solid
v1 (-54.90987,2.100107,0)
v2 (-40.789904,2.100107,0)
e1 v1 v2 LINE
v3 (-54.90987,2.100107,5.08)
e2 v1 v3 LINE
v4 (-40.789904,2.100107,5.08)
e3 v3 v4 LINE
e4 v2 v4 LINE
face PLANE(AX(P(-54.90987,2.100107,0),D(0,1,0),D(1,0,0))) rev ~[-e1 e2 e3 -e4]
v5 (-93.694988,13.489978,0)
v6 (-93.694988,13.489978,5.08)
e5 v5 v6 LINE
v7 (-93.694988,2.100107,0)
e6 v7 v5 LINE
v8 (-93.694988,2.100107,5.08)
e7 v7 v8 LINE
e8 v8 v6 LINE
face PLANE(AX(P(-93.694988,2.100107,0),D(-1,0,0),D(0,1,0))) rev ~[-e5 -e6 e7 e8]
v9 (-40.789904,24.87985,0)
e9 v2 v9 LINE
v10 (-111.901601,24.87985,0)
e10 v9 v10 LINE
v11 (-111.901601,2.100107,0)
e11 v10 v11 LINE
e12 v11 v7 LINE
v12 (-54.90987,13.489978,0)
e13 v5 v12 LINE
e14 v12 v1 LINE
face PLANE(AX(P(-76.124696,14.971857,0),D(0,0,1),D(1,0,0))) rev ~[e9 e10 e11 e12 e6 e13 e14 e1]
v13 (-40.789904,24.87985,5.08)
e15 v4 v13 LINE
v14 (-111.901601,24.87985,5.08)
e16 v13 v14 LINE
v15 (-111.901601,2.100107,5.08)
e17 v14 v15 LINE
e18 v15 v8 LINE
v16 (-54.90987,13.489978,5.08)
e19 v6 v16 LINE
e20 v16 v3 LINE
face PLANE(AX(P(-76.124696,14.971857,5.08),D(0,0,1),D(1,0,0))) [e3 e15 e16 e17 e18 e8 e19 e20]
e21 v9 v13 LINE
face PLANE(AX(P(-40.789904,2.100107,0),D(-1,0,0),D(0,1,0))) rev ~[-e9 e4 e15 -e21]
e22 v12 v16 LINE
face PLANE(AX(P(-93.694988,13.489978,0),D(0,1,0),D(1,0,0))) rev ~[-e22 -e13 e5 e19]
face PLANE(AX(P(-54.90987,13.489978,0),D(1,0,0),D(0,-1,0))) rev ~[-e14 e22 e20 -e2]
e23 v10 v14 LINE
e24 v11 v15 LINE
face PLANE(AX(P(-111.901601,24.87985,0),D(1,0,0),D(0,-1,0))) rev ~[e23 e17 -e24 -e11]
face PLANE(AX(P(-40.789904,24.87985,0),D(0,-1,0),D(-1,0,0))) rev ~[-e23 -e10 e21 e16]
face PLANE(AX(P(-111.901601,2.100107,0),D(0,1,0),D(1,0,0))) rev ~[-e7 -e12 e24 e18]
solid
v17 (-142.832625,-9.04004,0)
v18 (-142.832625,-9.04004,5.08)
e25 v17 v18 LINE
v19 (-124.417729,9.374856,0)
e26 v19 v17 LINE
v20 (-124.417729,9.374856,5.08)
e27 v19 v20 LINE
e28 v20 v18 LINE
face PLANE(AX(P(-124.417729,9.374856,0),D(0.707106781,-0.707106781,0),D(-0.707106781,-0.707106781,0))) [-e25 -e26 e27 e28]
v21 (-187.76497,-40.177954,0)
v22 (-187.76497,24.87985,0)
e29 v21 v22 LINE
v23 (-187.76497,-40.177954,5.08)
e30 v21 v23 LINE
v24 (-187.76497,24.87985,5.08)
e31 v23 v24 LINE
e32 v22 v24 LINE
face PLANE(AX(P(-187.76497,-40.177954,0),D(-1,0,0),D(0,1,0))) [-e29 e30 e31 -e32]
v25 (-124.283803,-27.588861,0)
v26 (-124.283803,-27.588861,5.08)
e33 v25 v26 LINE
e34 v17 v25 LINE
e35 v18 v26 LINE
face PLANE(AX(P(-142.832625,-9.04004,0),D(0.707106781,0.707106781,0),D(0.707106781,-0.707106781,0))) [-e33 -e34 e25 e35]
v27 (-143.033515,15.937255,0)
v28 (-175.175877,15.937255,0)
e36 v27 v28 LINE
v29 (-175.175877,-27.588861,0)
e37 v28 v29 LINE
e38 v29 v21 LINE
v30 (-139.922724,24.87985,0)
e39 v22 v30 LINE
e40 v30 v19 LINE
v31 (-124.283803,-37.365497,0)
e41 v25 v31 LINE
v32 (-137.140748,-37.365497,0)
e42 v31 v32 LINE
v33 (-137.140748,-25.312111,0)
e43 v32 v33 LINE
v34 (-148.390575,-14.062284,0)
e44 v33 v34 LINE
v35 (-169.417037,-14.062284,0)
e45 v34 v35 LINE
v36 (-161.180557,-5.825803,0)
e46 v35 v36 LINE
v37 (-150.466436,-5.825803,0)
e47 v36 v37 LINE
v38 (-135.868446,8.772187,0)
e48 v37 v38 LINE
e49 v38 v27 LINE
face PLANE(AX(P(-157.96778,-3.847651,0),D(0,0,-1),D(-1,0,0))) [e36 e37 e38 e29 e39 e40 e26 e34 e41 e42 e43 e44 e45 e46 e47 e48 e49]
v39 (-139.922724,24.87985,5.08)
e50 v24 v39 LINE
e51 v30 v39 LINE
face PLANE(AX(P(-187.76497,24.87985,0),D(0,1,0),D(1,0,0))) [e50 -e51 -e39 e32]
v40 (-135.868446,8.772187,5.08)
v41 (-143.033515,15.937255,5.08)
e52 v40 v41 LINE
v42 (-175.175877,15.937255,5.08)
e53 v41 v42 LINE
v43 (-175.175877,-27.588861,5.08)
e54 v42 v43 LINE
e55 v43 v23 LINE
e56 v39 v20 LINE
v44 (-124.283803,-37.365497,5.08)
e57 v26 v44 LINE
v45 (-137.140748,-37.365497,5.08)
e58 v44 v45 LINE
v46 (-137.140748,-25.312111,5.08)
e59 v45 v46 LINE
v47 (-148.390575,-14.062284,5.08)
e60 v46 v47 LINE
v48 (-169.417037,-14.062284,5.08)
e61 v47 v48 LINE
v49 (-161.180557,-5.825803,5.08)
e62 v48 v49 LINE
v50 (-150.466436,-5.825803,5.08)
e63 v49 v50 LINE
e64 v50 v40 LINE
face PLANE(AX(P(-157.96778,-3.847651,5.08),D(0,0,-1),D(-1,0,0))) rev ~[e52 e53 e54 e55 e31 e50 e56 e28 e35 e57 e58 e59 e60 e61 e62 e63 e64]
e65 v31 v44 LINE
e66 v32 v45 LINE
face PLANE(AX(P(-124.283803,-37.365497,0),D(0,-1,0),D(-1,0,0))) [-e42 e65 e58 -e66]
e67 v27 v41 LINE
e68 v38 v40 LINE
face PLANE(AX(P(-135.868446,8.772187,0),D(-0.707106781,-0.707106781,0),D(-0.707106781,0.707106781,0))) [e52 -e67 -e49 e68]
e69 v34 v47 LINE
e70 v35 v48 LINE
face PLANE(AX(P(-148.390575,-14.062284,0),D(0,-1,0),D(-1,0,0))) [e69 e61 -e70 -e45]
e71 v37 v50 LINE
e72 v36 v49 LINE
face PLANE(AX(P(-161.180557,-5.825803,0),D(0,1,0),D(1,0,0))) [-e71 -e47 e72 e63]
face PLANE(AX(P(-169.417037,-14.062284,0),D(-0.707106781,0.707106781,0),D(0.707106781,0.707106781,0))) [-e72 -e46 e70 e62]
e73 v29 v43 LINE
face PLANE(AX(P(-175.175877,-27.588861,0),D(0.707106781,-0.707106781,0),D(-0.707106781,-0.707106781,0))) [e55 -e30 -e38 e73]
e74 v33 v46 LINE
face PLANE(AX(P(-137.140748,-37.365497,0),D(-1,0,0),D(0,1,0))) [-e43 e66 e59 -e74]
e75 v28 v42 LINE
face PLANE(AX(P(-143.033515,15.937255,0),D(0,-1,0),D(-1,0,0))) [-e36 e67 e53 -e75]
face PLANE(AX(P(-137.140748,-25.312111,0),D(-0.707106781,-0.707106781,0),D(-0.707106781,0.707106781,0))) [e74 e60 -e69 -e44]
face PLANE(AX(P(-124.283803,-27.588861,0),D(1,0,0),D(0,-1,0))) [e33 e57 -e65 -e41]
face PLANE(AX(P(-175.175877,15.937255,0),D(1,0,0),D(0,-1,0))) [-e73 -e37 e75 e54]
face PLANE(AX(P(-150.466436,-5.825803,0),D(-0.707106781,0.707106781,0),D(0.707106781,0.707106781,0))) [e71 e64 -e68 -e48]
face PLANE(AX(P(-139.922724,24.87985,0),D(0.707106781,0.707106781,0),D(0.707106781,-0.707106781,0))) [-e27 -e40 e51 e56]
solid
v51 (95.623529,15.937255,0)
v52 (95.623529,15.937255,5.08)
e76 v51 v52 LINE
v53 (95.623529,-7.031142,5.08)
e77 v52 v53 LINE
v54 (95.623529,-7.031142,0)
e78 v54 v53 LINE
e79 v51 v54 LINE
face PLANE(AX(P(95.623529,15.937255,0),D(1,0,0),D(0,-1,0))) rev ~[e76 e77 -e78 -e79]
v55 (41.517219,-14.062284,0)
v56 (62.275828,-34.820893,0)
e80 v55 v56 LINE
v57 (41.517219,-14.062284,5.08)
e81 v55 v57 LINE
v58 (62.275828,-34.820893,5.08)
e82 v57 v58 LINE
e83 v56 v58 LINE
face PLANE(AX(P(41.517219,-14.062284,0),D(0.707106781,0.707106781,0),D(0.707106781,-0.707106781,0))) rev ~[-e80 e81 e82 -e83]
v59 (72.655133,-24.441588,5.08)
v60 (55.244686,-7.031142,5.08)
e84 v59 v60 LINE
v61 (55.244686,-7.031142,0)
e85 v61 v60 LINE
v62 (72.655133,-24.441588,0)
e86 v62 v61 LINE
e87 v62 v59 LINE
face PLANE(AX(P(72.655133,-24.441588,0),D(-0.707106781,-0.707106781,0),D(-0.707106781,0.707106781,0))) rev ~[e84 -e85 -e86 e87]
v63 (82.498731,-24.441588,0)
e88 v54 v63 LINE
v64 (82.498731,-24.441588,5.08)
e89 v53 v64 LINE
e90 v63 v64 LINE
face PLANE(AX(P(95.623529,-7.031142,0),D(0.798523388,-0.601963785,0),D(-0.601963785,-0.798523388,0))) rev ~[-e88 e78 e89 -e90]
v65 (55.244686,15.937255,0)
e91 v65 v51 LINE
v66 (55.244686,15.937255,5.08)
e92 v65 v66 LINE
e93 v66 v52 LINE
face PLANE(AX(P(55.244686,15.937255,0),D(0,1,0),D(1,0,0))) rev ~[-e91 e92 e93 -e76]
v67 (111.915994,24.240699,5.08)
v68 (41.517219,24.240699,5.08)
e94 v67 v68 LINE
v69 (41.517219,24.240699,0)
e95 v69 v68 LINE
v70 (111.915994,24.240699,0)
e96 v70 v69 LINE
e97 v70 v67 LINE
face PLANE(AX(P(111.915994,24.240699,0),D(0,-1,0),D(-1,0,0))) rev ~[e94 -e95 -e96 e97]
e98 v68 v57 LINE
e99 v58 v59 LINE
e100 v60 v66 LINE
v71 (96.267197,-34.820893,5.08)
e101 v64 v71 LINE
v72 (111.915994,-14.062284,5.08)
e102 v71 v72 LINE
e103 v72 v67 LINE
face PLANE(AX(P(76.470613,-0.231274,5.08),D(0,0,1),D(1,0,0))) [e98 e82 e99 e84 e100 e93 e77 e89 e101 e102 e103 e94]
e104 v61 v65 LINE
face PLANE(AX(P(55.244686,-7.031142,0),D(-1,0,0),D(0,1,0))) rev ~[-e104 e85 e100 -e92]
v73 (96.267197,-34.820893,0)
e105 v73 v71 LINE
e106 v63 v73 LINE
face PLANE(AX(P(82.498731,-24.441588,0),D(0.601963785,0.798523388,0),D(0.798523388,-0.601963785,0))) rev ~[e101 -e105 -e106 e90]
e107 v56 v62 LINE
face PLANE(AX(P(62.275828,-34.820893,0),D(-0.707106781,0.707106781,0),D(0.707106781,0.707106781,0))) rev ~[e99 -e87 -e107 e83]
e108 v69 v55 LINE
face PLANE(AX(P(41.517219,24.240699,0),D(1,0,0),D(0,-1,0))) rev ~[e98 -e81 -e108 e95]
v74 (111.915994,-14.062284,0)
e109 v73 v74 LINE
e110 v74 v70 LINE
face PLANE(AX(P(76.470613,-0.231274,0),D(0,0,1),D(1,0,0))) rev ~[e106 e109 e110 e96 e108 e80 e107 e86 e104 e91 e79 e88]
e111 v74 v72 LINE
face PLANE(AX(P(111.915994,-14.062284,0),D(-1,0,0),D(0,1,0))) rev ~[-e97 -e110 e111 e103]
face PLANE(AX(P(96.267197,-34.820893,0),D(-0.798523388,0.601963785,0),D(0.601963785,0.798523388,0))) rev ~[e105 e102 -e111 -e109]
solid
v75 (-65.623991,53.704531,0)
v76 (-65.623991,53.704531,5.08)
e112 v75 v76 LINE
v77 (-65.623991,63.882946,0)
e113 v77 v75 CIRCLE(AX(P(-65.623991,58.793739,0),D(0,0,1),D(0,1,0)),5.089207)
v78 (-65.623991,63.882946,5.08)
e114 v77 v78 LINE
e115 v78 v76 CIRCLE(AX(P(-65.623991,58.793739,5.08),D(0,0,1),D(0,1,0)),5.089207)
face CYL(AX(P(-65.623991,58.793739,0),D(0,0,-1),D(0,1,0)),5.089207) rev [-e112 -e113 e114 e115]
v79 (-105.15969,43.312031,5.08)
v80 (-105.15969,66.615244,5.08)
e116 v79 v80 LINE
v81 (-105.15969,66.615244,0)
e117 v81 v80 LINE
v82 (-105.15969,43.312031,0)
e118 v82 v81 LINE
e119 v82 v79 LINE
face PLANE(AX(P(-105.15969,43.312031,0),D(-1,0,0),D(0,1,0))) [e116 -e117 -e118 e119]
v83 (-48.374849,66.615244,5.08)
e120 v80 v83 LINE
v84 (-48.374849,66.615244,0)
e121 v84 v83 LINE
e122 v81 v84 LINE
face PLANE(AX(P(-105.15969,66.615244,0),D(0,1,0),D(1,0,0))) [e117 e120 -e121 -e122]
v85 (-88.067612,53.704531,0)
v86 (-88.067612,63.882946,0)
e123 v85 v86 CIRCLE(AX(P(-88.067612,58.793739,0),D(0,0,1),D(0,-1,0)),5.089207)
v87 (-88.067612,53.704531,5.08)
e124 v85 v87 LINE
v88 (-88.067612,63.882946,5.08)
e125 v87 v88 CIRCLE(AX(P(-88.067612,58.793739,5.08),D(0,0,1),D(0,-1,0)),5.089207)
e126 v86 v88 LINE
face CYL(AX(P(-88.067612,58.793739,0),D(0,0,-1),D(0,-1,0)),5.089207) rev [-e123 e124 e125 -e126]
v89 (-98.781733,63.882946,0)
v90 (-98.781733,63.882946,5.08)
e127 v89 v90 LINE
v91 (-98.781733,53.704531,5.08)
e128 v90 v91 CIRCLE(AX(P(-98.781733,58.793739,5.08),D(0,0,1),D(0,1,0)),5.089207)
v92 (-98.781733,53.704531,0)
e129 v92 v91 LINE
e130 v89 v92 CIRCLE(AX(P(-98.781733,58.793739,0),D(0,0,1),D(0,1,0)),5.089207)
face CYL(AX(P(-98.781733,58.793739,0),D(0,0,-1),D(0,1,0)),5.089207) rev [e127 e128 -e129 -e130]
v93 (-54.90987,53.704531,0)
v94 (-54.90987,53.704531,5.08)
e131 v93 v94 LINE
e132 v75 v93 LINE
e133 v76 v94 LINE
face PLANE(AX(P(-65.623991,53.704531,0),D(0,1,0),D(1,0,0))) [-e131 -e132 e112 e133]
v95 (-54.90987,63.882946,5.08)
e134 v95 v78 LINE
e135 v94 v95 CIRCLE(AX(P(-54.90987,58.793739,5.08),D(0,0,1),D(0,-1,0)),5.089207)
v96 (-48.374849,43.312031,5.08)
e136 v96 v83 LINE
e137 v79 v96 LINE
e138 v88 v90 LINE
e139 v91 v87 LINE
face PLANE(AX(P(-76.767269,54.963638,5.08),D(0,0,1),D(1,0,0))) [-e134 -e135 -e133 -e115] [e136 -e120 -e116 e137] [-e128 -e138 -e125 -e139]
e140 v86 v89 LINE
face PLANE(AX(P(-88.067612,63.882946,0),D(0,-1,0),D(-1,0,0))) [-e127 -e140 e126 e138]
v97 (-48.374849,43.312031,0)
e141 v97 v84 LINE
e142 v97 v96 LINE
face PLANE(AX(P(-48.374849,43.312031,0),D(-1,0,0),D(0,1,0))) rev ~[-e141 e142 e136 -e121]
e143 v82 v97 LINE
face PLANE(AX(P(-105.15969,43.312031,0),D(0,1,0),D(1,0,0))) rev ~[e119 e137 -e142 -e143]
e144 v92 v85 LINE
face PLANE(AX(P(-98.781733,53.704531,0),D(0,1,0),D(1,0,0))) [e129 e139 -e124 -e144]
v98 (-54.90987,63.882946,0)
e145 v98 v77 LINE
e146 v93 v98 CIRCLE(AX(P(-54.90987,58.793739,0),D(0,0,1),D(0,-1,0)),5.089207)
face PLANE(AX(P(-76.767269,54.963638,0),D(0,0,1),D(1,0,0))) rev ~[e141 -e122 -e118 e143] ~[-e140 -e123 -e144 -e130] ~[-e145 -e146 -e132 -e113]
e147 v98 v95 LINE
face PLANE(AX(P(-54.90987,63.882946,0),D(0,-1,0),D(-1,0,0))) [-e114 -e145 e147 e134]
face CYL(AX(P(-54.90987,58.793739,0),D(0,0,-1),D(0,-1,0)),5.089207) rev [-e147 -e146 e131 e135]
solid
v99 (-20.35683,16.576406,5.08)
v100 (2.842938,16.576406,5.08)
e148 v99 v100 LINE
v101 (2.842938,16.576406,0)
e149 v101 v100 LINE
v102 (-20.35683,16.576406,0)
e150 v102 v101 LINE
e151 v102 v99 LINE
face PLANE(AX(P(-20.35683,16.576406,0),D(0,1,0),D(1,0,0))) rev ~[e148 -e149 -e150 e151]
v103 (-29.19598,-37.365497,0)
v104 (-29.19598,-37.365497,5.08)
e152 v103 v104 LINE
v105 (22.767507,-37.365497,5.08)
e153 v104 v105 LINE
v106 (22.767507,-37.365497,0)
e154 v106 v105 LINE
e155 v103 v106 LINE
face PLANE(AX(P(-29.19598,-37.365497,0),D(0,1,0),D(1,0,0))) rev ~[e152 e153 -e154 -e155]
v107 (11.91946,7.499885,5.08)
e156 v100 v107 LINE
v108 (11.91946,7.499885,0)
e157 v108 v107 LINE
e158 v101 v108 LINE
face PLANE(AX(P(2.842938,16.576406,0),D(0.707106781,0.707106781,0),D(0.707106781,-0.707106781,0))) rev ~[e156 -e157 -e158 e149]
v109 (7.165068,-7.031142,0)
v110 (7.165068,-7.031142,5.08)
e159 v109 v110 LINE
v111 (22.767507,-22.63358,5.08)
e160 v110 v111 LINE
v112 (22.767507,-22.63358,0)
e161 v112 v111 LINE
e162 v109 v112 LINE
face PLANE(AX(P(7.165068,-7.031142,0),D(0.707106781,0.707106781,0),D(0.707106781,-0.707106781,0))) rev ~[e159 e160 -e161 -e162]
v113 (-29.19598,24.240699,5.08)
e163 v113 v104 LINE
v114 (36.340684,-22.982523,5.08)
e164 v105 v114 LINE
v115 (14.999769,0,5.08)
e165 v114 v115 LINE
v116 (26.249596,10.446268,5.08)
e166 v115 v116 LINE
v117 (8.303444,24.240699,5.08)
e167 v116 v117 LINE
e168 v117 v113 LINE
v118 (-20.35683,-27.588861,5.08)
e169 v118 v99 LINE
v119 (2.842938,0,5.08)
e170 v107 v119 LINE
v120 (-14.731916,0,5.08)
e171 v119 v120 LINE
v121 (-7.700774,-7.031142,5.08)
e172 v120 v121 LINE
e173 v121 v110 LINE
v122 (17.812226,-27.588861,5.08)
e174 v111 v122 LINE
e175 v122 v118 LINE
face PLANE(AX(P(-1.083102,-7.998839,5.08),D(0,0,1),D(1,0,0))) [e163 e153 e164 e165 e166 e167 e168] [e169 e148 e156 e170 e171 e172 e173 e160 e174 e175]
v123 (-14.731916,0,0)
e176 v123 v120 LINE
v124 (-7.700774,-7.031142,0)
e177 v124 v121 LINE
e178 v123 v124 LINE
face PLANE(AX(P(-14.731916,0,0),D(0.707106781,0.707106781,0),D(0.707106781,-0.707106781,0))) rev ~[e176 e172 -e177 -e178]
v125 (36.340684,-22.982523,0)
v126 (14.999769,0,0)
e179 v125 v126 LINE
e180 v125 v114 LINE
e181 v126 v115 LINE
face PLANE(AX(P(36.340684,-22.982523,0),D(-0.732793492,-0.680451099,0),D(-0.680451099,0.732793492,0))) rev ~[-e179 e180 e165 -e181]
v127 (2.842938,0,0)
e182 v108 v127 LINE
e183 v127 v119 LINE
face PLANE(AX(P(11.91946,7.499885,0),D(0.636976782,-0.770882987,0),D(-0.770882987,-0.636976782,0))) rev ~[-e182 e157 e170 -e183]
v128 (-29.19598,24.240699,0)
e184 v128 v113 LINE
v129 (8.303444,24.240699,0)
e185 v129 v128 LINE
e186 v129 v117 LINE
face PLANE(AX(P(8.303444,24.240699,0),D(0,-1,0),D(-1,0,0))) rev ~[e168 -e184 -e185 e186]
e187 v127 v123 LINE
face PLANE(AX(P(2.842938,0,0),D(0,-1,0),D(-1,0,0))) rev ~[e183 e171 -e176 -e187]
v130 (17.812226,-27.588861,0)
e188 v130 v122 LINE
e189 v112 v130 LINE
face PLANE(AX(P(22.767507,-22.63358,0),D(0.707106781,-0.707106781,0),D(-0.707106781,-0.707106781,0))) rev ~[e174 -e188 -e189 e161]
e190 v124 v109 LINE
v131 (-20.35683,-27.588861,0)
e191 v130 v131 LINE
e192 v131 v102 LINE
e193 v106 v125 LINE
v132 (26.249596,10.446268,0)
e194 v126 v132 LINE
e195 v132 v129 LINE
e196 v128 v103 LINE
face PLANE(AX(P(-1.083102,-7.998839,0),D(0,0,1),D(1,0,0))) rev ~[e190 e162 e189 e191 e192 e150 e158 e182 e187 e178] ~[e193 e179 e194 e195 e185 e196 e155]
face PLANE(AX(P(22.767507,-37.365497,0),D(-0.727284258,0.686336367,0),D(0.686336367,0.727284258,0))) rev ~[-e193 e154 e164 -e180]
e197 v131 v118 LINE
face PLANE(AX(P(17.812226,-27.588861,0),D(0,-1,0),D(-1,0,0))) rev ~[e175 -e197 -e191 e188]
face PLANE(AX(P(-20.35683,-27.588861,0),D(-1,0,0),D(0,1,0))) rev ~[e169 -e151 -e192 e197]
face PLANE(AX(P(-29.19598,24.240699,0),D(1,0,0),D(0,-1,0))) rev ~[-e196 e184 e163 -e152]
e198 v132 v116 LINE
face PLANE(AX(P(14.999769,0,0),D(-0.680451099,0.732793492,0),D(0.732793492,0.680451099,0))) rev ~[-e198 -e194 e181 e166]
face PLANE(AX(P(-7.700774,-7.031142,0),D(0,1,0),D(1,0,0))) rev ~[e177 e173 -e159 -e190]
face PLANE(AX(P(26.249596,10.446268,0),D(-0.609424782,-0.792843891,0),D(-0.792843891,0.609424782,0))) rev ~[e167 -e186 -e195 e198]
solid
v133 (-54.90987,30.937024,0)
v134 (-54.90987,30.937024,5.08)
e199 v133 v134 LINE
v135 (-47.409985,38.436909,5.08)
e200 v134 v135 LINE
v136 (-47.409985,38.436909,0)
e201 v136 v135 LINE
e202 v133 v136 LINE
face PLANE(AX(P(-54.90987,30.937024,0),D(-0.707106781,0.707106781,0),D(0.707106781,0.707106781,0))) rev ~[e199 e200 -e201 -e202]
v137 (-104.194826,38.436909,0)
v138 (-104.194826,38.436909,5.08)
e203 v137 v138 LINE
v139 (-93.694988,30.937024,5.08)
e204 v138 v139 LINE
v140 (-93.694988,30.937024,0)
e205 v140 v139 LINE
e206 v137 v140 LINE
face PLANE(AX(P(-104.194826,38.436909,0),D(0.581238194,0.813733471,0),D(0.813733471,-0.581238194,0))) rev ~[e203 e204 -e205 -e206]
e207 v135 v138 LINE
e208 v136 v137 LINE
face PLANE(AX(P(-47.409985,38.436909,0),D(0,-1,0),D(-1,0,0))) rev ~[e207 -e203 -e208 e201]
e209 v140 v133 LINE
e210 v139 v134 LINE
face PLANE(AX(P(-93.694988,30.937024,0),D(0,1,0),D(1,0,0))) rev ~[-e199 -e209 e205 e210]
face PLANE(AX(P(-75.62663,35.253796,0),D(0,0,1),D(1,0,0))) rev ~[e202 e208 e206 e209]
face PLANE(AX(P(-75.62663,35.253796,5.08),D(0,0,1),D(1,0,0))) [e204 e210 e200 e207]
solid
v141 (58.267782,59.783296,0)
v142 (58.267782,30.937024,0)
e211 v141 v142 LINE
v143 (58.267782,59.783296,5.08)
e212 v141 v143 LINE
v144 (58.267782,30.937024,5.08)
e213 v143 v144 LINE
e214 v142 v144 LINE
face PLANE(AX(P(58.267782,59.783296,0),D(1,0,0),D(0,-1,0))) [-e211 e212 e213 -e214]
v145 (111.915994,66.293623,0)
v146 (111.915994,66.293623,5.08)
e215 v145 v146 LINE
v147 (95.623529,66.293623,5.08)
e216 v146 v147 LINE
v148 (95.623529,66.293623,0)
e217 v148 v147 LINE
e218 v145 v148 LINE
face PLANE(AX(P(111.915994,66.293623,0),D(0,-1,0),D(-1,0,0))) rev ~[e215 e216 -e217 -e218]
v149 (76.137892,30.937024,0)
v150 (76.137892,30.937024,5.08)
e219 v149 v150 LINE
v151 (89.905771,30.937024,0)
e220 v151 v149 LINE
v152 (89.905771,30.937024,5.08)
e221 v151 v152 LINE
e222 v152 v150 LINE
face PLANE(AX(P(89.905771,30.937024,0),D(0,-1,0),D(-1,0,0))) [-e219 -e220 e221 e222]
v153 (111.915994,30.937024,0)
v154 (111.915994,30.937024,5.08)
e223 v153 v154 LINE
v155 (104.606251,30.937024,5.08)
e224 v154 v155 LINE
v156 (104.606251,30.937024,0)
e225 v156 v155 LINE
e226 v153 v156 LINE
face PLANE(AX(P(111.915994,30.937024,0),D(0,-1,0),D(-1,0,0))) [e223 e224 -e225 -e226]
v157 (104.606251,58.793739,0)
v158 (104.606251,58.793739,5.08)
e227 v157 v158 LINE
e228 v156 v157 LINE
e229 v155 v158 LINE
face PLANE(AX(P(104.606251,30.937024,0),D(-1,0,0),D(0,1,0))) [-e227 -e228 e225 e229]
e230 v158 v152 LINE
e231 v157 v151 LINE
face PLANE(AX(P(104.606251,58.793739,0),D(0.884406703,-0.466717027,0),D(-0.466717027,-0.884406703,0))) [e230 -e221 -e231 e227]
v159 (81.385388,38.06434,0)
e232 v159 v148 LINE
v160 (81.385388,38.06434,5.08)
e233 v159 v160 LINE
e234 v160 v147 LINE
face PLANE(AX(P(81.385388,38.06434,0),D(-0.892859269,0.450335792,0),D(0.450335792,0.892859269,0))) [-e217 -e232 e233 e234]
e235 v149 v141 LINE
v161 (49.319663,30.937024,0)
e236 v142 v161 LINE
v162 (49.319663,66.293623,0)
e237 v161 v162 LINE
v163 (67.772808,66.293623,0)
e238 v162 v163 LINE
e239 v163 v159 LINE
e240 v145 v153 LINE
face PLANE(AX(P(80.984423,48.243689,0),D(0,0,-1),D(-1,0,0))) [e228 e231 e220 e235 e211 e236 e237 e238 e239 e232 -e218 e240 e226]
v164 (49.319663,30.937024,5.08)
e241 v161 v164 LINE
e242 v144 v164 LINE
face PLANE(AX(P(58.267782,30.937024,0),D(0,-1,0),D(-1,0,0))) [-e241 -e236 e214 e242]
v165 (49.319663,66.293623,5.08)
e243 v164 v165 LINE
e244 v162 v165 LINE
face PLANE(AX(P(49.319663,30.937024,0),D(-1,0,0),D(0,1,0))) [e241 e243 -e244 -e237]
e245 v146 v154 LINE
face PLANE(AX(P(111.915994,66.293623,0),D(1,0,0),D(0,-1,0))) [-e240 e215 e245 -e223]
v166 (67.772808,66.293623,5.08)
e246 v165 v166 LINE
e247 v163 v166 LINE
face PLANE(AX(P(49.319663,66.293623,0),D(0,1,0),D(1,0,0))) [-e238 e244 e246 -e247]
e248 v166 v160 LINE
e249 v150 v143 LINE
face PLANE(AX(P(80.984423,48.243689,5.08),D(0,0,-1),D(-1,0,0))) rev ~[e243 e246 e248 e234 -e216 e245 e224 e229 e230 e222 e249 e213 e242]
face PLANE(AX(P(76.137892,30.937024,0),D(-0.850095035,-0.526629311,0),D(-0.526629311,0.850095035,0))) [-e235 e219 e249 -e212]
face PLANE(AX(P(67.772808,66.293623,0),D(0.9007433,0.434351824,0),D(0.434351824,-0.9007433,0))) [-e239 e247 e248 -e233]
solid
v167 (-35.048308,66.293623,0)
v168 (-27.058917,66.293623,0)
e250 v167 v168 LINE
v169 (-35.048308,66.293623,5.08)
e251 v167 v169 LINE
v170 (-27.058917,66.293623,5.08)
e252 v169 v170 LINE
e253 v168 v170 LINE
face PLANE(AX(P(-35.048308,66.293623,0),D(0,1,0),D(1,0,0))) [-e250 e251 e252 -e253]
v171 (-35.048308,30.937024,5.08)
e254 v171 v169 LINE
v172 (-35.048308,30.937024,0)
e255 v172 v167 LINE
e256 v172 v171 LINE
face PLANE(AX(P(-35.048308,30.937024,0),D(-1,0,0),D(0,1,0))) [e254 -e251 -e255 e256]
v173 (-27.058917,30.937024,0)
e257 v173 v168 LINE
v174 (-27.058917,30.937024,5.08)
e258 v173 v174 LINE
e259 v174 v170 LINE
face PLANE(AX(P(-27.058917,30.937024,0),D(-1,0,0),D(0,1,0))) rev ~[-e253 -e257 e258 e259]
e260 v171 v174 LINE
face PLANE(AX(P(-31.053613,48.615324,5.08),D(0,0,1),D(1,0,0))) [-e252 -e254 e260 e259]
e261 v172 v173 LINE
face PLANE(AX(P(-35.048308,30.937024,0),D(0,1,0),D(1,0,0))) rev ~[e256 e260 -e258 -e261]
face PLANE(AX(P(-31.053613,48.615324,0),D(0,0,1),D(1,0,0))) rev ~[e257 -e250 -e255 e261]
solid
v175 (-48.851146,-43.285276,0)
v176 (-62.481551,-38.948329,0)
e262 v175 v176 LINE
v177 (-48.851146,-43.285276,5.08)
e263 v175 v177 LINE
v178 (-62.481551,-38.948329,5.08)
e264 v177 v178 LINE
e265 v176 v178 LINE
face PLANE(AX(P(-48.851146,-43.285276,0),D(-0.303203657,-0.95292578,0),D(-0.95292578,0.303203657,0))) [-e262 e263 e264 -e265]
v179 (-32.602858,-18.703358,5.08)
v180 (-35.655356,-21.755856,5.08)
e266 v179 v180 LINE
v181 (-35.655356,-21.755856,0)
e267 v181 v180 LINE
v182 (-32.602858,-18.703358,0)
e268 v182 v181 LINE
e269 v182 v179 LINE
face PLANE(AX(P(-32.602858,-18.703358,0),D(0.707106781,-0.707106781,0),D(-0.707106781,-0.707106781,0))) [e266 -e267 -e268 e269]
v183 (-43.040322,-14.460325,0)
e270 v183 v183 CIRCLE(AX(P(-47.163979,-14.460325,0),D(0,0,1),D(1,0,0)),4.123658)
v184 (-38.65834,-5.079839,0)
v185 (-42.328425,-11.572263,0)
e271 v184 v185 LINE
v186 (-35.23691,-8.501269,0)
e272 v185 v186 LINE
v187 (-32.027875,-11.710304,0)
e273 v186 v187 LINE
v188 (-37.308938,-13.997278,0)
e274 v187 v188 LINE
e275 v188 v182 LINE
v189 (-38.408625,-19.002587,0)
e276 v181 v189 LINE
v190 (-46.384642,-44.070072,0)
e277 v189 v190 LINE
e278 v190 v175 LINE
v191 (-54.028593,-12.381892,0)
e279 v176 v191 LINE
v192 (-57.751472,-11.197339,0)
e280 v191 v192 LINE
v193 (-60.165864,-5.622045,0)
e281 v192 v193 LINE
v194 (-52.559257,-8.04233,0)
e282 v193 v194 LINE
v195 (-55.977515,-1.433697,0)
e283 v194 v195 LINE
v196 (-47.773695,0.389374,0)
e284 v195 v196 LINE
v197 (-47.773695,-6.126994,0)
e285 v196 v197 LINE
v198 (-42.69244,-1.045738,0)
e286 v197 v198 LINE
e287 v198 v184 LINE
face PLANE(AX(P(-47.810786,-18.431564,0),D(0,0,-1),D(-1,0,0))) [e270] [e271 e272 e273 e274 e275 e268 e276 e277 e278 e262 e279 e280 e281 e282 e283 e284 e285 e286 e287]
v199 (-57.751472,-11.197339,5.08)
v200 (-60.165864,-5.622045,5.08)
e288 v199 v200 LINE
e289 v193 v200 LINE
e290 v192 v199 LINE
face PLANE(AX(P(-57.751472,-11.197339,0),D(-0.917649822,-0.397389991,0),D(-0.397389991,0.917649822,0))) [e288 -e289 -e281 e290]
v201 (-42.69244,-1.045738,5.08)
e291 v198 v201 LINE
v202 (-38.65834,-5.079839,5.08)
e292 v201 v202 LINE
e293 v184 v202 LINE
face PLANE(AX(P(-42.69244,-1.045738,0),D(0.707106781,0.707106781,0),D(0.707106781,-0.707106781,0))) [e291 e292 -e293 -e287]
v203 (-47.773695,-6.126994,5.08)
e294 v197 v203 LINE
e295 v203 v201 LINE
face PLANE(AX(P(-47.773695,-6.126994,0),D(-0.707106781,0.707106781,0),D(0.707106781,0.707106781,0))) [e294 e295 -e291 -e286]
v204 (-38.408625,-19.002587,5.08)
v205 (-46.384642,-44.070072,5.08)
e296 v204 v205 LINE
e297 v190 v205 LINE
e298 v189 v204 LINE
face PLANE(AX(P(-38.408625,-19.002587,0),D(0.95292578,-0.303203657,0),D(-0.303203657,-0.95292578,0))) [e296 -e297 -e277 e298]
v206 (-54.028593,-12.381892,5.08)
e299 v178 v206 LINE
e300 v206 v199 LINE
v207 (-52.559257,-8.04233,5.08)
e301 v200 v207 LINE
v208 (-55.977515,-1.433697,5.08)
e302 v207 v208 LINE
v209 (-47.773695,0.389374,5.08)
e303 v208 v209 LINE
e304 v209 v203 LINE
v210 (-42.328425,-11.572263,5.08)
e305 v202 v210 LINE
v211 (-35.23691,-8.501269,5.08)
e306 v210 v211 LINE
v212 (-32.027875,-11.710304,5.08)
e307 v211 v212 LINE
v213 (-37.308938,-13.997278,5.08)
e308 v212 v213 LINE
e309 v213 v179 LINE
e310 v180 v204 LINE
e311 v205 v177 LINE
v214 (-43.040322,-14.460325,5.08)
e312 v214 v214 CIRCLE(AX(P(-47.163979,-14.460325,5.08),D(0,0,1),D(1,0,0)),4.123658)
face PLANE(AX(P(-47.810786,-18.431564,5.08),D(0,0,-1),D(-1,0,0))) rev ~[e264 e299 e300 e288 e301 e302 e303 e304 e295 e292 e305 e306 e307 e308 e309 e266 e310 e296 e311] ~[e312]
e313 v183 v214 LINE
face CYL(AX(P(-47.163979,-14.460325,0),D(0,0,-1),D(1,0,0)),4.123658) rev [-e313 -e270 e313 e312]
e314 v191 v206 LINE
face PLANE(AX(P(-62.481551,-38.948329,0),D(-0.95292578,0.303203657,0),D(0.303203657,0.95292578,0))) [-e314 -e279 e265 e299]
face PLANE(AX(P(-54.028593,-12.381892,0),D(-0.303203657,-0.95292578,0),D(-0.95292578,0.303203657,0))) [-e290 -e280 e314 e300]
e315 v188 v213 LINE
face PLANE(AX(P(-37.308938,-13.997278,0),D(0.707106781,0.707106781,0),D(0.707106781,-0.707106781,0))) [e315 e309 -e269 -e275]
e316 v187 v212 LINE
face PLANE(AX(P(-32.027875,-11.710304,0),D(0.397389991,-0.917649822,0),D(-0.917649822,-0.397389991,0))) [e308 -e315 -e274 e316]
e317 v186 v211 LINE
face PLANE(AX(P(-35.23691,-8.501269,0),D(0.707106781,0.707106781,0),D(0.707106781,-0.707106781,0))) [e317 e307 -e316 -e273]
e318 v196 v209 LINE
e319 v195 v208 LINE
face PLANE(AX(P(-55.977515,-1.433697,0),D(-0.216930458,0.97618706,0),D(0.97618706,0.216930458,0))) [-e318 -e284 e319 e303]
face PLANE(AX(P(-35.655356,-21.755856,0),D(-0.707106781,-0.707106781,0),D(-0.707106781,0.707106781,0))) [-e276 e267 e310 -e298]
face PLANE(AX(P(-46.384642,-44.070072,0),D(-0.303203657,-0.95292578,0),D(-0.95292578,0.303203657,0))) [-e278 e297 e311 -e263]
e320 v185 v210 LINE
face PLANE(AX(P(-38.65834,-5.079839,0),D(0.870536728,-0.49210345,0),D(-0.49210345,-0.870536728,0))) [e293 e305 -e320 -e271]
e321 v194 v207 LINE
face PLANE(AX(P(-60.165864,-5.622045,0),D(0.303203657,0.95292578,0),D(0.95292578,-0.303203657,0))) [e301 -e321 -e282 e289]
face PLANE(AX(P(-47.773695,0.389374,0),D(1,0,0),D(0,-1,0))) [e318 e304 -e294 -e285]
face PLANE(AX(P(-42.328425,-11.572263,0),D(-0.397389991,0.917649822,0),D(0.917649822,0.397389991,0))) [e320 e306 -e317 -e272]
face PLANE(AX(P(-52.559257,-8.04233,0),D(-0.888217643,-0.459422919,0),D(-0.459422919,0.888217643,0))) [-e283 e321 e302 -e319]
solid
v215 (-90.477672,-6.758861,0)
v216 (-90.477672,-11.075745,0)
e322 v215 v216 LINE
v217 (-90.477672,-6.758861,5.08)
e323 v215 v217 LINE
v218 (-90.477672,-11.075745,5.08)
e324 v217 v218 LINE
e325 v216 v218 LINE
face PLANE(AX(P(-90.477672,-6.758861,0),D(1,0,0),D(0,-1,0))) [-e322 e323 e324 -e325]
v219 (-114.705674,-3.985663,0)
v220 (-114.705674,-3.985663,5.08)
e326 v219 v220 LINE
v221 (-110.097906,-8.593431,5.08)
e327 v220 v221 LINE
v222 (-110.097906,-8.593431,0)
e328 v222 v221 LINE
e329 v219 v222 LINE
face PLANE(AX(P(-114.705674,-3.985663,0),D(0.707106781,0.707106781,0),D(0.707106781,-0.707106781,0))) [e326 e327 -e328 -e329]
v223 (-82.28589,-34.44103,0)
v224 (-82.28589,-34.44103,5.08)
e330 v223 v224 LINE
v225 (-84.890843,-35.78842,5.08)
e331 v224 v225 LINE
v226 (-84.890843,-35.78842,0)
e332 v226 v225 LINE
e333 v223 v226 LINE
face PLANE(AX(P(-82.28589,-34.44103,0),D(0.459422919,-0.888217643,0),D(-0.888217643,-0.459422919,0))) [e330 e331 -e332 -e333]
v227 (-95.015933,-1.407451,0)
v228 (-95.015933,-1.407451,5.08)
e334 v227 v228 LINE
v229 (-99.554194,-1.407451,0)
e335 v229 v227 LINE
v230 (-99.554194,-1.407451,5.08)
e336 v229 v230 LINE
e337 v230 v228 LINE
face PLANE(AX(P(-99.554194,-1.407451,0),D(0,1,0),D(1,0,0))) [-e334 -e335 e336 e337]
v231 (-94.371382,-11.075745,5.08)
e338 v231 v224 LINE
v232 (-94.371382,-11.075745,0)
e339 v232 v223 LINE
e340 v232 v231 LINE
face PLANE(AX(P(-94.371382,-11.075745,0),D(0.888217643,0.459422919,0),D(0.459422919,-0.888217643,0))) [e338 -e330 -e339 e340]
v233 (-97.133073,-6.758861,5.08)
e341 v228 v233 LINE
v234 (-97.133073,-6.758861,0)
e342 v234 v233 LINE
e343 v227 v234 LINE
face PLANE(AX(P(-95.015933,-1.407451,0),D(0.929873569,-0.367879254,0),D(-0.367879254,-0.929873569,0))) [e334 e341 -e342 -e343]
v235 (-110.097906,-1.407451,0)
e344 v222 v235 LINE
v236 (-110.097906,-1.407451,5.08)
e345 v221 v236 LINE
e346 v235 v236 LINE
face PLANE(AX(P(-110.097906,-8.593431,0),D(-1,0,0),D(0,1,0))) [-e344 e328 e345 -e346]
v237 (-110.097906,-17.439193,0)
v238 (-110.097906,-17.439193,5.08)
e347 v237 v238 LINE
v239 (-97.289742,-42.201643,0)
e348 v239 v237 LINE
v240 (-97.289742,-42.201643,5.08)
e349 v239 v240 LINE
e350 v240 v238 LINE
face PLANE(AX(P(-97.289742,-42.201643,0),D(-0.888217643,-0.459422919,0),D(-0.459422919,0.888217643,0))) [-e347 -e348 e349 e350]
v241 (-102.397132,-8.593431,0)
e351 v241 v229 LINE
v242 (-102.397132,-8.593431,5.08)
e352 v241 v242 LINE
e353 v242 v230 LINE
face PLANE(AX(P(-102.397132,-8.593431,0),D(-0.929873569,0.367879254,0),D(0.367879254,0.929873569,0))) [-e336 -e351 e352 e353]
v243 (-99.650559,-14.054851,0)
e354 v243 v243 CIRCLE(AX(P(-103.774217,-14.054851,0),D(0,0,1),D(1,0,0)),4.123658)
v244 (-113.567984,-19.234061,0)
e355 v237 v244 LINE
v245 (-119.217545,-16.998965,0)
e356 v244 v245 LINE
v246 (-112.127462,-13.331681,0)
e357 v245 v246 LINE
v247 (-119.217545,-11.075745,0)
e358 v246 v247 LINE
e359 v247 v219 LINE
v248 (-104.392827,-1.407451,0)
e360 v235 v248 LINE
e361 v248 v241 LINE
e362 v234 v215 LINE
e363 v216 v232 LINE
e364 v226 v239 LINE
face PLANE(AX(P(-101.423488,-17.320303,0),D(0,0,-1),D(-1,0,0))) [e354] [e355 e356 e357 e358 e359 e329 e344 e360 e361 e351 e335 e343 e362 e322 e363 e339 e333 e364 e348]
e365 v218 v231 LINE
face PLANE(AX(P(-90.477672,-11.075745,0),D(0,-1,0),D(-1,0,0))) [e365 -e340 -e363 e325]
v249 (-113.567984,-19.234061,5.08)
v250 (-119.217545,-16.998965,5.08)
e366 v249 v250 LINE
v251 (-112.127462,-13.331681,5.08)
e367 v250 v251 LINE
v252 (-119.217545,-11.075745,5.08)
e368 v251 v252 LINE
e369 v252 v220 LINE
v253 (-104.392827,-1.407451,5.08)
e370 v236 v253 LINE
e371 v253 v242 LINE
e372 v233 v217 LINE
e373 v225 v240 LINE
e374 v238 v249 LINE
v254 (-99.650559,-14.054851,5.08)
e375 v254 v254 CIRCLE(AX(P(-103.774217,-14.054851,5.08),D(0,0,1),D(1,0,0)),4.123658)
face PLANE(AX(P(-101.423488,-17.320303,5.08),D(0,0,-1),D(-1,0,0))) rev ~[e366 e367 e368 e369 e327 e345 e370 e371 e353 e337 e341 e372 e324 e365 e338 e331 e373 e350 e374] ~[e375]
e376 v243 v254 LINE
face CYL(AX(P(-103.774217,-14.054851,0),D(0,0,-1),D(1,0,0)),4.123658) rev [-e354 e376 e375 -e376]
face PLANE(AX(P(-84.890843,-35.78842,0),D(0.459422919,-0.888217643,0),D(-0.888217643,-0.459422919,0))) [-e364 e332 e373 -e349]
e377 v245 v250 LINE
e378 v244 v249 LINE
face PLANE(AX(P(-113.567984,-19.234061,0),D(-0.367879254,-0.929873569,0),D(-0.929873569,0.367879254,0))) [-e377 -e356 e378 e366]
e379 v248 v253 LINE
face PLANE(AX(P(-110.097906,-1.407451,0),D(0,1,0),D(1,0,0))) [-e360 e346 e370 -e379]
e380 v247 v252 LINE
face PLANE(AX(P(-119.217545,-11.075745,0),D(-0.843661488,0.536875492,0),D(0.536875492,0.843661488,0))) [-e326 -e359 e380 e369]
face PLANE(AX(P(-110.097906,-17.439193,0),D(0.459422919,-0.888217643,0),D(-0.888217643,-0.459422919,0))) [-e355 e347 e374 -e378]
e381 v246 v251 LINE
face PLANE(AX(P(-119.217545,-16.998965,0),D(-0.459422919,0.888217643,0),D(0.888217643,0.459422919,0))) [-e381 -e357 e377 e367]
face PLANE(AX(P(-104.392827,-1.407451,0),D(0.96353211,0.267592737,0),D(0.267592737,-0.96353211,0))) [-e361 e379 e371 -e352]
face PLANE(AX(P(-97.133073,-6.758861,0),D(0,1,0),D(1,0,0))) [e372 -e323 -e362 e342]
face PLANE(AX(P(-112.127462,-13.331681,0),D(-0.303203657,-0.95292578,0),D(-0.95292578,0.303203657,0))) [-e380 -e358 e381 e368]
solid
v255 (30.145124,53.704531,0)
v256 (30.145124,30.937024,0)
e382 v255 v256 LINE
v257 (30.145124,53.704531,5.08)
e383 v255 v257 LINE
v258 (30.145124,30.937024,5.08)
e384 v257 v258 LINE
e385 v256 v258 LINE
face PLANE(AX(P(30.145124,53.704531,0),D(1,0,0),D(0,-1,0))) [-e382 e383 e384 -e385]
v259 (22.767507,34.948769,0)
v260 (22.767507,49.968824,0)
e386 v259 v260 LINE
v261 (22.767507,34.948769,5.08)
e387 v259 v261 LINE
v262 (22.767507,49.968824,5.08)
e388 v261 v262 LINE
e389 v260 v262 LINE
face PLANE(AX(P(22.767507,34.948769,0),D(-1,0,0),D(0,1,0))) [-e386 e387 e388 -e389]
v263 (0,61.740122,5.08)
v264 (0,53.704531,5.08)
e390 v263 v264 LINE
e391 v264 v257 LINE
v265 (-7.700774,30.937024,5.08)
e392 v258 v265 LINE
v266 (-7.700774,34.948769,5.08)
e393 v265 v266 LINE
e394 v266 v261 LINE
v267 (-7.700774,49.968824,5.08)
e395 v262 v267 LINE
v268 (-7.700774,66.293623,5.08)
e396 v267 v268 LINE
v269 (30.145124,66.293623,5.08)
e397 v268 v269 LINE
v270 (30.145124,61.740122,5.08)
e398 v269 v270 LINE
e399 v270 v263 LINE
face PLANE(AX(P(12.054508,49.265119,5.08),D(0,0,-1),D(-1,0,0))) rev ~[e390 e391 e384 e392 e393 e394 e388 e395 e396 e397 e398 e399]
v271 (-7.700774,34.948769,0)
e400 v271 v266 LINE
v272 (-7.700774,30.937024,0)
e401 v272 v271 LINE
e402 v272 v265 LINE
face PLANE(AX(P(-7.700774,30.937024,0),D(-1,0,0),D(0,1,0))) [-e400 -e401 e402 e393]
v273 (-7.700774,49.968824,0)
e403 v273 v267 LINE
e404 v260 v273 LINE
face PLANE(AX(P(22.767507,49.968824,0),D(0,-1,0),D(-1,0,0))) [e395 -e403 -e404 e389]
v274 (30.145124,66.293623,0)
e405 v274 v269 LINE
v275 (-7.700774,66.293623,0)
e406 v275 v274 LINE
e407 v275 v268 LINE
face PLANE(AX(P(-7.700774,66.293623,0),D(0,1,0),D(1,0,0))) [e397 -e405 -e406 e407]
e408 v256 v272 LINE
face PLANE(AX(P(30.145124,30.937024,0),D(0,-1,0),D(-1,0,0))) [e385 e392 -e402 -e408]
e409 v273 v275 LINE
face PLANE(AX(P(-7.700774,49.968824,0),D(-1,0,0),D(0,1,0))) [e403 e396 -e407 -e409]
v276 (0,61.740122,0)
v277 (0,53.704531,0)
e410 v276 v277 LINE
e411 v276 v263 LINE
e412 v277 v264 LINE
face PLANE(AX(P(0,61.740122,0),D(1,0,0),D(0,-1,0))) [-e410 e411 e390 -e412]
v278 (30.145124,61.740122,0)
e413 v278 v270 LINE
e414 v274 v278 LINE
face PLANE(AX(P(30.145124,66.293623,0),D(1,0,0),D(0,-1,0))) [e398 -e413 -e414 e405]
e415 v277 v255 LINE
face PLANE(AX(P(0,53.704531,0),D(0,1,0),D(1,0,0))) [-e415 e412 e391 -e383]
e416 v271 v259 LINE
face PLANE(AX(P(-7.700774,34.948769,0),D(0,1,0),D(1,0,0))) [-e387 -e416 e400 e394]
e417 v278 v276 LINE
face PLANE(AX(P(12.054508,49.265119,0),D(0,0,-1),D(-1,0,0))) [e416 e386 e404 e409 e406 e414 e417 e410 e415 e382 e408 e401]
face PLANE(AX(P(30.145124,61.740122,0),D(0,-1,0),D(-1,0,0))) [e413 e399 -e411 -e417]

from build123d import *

# Parameters (mm, degrees)
BOSS_EXTRUDE2_DEPTH    = 5.08
SKETCH1_R              = 4.12365759
BOSS_EXTRUDE2_2_DEPTH  = 5.08
BOSS_EXTRUDE2_3_DEPTH  = 5.08
BOSS_EXTRUDE2_4_DEPTH  = 5.08
BOSS_EXTRUDE2_5_DEPTH  = 5.08
BOSS_EXTRUDE2_6_DEPTH  = 5.08
BOSS_EXTRUDE2_7_DEPTH  = 5.08
BOSS_EXTRUDE2_8_DEPTH  = 5.08
BOSS_EXTRUDE2_9_DEPTH  = 5.08
SKETCH1_W              = 56.784840995
SKETCH1_H              = 23.30321305
BOSS_EXTRUDE2_10_DEPTH = 5.08
SKETCH1_W_2            = 7.98939124
SKETCH1_H_2            = 35.356599111
BOSS_EXTRUDE2_11_DEPTH = 5.08


with BuildPart() as part:
    # Sketch1 → Boss-Extrude2 (new body)
    with BuildSketch(Plane.XY):
        Polygon((-54.90986983, 2.100106655), (-40.789904432, 2.100106655), (-40.789904432, 24.879849932), (-45.332766375, 24.879849932), (-48.688287769, 24.879849932), (-105.473128764, 24.879849932), (-111.90160133, 24.879849932), (-111.90160133, 2.100106655), (-93.694987642, 2.100106655), (-93.694987642, 13.489978293), (-54.90986983, 13.489978293), align=None)
    extrude(amount=BOSS_EXTRUDE2_DEPTH)


with BuildPart() as body_2:
    # Sketch1 → Boss-Extrude2 2 (new body)
    with BuildSketch(Plane.XY):
        Polygon((-82.285889521, -34.441030144), (-84.890843391, -35.788420077), (-97.289742004, -42.201643497), (-110.097906272, -17.439192577), (-113.56798426, -19.234060502), (-119.217545048, -16.998965022), (-112.12746233, -13.331680858), (-119.217545048, -11.075745447), (-114.705674228, -3.985662729), (-110.097906272, -8.593430684), (-110.097906272, -1.407450831), (-104.392826637, -1.407450831), (-102.397131845, -8.593430684), (-99.554193838, -1.407450831), (-95.015933067, -1.407450831), (-97.133073497, -6.758861392), (-90.477672296, -6.758861392), (-90.477672296, -11.075745447), (-94.371381606, -11.075745447), align=None)
        with Locations((-103.77421688, -14.054851273)):
            Circle(SKETCH1_R, mode=Mode.SUBTRACT)
    extrude(amount=BOSS_EXTRUDE2_2_DEPTH)


with BuildPart() as body_3:
    # Sketch1 → Boss-Extrude2 3 (new body)
    with BuildSketch(Plane.XY):
        Polygon((-35.236909604, -8.501269043), (-32.027874638, -11.710304009), (-37.308937689, -13.997278351), (-32.602858369, -18.703357672), (-35.655356358, -21.755855661), (-38.408624614, -19.002587404), (-46.384642461, -44.070072065), (-48.851145887, -43.28527552), (-62.481550623, -38.948328558), (-54.028593468, -12.381891785), (-57.751472426, -11.19733939), (-60.165863999, -5.622045475), (-52.559256928, -8.042329543), (-55.977515271, -1.433696747), (-47.773695248, 0.389374369), (-47.773695248, -6.126993566), (-42.692440165, -1.045738482), (-38.658339667, -5.07983898), (-42.32842543, -11.572263384), align=None)
        with Locations((-47.163979131, -14.460324751)):
            Circle(SKETCH1_R, mode=Mode.SUBTRACT)
    extrude(amount=BOSS_EXTRUDE2_3_DEPTH)


with BuildPart() as body_4:
    # Sketch1 → Boss-Extrude2 4 (new body)
    with BuildSketch(Plane.XY):
        Polygon((81.385387958, 38.064340239), (95.623529412, 66.293623332), (104.606250712, 66.293623332), (111.915994426, 66.293623332), (111.915994426, 30.937024221), (104.606250712, 30.937024221), (104.606250712, 58.793738672), (89.90577083, 30.937024221), (76.137891998, 30.937024221), (58.26778152, 59.783295915), (58.26778152, 30.937024221), (49.319663331, 30.937024221), (49.319663331, 66.293623332), (67.772807532, 66.293623332), align=None)
    extrude(amount=BOSS_EXTRUDE2_4_DEPTH)


with BuildPart() as body_5:
    # Sketch1 → Boss-Extrude2 5 (new body)
    with BuildSketch(Plane.XY):
        Polygon((0, 61.740121931), (0, 53.704531224), (30.145124355, 53.704531224), (30.145124355, 30.937024221), (-7.700774427, 30.937024221), (-7.700774427, 34.948768743), (22.767507003, 34.948768743), (22.767507003, 49.968824274), (-7.700774427, 49.968824274), (-7.700774427, 66.293623332), (30.145124355, 66.293623332), (30.145124355, 61.740121931), align=None)
    extrude(amount=BOSS_EXTRUDE2_5_DEPTH)


with BuildPart() as body_6:
    # Sketch1 → Boss-Extrude2 6 (new body)
    with BuildSketch(Plane.XY):
        Polygon((-47.409985171, 38.436908881), (-104.194826166, 38.436908881), (-93.694987642, 30.937024221), (-54.90986983, 30.937024221), align=None)
    extrude(amount=BOSS_EXTRUDE2_6_DEPTH)


with BuildPart() as body_7:
    # Sketch1 → Boss-Extrude2 7 (new body)
    with BuildSketch(Plane.XY):
        Polygon((-124.283802933, -37.365496787), (-137.140748064, -37.365496787), (-137.140748064, -25.312110727), (-148.390575054, -14.062283737), (-169.417037403, -14.062283737), (-161.180556929, -5.825803262), (-150.466435986, -5.825803262), (-135.868446202, 8.772186522), (-143.033514582, 15.937254902), (-175.17587741, 15.937254902), (-175.17587741, -27.588861427), (-187.764969517, -40.177953534), (-187.764969517, 24.879849932), (-139.922723552, 24.879849932), (-124.417729445, 9.374855825), (-142.832624815, -9.040039545), (-124.283802933, -27.588861427), align=None)
    extrude(amount=BOSS_EXTRUDE2_7_DEPTH)


with BuildPart() as body_8:
    # Sketch1 → Boss-Extrude2 8 (new body)
    with BuildSketch(Plane.XY):
        Polygon((111.915994426, -14.062283737), (111.915994426, 24.240698632), (41.517218652, 24.240698632), (41.517218652, -14.062283737), (62.275827978, -34.820893063), (72.655132641, -24.4415884), (55.24468611, -7.031141869), (55.24468611, 15.937254902), (95.623529412, 15.937254902), (95.623529412, -7.031141869), (82.498731257, -24.4415884), (96.267196627, -34.820893063), align=None)
    extrude(amount=BOSS_EXTRUDE2_8_DEPTH)


with BuildPart() as body_9:
    # Sketch1 → Boss-Extrude2 9 (new body)
    with BuildSketch(Plane.XY):
        Polygon((-29.195979568, -37.365496787), (22.767507003, -37.365496787), (36.34068378, -22.982523266), (14.999769319, 0), (26.249596309, 10.446267919), (8.30344373, 24.240698632), (-29.195979568, 24.240698632), align=None)
        Polygon((2.842938007, 16.576406201), (11.919459549, 7.49988466), (2.842938007, 0), (-14.731916296, 0), (-7.700774427, -7.031141869), (7.16506838, -7.031141869), (22.767507003, -22.633580491), (17.812226067, -27.588861427), (-20.356829791, -27.588861427), (-20.356829791, 16.576406201), align=None, mode=Mode.SUBTRACT)
    extrude(amount=BOSS_EXTRUDE2_9_DEPTH)


with BuildPart() as body_10:
    # Sketch1 → Boss-Extrude2 10 (new body)
    with BuildSketch(Plane.XY):
        with Locations((-76.767269056, 54.963637936)):
            Rectangle(SKETCH1_W, SKETCH1_H)
        with BuildLine():
            ThreePointArc((-88.067611926, 53.704531224), (-82.978404478, 58.793738672), (-88.067611926, 63.88294612))
            Line((-88.067611926, 63.88294612), (-98.781732868, 63.88294612))
            ThreePointArc((-98.781732868, 63.88294612), (-103.870940316, 58.793738672), (-98.781732868, 53.704531224))
            Line((-98.781732868, 53.704531224), (-88.067611926, 53.704531224))
        make_face(mode=Mode.SUBTRACT)
        with BuildLine():
            ThreePointArc((-54.90986983, 53.704531224), (-49.820662383, 58.793738672), (-54.90986983, 63.88294612))
            Line((-54.90986983, 63.88294612), (-65.623990773, 63.88294612))
            ThreePointArc((-65.623990773, 63.88294612), (-70.71319822, 58.793738672), (-65.623990773, 53.704531224))
            Line((-65.623990773, 53.704531224), (-54.90986983, 53.704531224))
        make_face(mode=Mode.SUBTRACT)
    extrude(amount=BOSS_EXTRUDE2_10_DEPTH)


with BuildPart() as body_11:
    # Sketch1 → Boss-Extrude2 11 (new body)
    with BuildSketch(Plane.XY):
        with Locations((-31.053612545, 48.615323777)):
            Rectangle(SKETCH1_W_2, SKETCH1_H_2)
    extrude(amount=BOSS_EXTRUDE2_11_DEPTH)


solid = Compound([part.part, body_2.part, body_3.part, body_4.part, body_5.part, body_6.part, body_7.part, body_8.part, body_9.part, body_10.part, body_11.part])
